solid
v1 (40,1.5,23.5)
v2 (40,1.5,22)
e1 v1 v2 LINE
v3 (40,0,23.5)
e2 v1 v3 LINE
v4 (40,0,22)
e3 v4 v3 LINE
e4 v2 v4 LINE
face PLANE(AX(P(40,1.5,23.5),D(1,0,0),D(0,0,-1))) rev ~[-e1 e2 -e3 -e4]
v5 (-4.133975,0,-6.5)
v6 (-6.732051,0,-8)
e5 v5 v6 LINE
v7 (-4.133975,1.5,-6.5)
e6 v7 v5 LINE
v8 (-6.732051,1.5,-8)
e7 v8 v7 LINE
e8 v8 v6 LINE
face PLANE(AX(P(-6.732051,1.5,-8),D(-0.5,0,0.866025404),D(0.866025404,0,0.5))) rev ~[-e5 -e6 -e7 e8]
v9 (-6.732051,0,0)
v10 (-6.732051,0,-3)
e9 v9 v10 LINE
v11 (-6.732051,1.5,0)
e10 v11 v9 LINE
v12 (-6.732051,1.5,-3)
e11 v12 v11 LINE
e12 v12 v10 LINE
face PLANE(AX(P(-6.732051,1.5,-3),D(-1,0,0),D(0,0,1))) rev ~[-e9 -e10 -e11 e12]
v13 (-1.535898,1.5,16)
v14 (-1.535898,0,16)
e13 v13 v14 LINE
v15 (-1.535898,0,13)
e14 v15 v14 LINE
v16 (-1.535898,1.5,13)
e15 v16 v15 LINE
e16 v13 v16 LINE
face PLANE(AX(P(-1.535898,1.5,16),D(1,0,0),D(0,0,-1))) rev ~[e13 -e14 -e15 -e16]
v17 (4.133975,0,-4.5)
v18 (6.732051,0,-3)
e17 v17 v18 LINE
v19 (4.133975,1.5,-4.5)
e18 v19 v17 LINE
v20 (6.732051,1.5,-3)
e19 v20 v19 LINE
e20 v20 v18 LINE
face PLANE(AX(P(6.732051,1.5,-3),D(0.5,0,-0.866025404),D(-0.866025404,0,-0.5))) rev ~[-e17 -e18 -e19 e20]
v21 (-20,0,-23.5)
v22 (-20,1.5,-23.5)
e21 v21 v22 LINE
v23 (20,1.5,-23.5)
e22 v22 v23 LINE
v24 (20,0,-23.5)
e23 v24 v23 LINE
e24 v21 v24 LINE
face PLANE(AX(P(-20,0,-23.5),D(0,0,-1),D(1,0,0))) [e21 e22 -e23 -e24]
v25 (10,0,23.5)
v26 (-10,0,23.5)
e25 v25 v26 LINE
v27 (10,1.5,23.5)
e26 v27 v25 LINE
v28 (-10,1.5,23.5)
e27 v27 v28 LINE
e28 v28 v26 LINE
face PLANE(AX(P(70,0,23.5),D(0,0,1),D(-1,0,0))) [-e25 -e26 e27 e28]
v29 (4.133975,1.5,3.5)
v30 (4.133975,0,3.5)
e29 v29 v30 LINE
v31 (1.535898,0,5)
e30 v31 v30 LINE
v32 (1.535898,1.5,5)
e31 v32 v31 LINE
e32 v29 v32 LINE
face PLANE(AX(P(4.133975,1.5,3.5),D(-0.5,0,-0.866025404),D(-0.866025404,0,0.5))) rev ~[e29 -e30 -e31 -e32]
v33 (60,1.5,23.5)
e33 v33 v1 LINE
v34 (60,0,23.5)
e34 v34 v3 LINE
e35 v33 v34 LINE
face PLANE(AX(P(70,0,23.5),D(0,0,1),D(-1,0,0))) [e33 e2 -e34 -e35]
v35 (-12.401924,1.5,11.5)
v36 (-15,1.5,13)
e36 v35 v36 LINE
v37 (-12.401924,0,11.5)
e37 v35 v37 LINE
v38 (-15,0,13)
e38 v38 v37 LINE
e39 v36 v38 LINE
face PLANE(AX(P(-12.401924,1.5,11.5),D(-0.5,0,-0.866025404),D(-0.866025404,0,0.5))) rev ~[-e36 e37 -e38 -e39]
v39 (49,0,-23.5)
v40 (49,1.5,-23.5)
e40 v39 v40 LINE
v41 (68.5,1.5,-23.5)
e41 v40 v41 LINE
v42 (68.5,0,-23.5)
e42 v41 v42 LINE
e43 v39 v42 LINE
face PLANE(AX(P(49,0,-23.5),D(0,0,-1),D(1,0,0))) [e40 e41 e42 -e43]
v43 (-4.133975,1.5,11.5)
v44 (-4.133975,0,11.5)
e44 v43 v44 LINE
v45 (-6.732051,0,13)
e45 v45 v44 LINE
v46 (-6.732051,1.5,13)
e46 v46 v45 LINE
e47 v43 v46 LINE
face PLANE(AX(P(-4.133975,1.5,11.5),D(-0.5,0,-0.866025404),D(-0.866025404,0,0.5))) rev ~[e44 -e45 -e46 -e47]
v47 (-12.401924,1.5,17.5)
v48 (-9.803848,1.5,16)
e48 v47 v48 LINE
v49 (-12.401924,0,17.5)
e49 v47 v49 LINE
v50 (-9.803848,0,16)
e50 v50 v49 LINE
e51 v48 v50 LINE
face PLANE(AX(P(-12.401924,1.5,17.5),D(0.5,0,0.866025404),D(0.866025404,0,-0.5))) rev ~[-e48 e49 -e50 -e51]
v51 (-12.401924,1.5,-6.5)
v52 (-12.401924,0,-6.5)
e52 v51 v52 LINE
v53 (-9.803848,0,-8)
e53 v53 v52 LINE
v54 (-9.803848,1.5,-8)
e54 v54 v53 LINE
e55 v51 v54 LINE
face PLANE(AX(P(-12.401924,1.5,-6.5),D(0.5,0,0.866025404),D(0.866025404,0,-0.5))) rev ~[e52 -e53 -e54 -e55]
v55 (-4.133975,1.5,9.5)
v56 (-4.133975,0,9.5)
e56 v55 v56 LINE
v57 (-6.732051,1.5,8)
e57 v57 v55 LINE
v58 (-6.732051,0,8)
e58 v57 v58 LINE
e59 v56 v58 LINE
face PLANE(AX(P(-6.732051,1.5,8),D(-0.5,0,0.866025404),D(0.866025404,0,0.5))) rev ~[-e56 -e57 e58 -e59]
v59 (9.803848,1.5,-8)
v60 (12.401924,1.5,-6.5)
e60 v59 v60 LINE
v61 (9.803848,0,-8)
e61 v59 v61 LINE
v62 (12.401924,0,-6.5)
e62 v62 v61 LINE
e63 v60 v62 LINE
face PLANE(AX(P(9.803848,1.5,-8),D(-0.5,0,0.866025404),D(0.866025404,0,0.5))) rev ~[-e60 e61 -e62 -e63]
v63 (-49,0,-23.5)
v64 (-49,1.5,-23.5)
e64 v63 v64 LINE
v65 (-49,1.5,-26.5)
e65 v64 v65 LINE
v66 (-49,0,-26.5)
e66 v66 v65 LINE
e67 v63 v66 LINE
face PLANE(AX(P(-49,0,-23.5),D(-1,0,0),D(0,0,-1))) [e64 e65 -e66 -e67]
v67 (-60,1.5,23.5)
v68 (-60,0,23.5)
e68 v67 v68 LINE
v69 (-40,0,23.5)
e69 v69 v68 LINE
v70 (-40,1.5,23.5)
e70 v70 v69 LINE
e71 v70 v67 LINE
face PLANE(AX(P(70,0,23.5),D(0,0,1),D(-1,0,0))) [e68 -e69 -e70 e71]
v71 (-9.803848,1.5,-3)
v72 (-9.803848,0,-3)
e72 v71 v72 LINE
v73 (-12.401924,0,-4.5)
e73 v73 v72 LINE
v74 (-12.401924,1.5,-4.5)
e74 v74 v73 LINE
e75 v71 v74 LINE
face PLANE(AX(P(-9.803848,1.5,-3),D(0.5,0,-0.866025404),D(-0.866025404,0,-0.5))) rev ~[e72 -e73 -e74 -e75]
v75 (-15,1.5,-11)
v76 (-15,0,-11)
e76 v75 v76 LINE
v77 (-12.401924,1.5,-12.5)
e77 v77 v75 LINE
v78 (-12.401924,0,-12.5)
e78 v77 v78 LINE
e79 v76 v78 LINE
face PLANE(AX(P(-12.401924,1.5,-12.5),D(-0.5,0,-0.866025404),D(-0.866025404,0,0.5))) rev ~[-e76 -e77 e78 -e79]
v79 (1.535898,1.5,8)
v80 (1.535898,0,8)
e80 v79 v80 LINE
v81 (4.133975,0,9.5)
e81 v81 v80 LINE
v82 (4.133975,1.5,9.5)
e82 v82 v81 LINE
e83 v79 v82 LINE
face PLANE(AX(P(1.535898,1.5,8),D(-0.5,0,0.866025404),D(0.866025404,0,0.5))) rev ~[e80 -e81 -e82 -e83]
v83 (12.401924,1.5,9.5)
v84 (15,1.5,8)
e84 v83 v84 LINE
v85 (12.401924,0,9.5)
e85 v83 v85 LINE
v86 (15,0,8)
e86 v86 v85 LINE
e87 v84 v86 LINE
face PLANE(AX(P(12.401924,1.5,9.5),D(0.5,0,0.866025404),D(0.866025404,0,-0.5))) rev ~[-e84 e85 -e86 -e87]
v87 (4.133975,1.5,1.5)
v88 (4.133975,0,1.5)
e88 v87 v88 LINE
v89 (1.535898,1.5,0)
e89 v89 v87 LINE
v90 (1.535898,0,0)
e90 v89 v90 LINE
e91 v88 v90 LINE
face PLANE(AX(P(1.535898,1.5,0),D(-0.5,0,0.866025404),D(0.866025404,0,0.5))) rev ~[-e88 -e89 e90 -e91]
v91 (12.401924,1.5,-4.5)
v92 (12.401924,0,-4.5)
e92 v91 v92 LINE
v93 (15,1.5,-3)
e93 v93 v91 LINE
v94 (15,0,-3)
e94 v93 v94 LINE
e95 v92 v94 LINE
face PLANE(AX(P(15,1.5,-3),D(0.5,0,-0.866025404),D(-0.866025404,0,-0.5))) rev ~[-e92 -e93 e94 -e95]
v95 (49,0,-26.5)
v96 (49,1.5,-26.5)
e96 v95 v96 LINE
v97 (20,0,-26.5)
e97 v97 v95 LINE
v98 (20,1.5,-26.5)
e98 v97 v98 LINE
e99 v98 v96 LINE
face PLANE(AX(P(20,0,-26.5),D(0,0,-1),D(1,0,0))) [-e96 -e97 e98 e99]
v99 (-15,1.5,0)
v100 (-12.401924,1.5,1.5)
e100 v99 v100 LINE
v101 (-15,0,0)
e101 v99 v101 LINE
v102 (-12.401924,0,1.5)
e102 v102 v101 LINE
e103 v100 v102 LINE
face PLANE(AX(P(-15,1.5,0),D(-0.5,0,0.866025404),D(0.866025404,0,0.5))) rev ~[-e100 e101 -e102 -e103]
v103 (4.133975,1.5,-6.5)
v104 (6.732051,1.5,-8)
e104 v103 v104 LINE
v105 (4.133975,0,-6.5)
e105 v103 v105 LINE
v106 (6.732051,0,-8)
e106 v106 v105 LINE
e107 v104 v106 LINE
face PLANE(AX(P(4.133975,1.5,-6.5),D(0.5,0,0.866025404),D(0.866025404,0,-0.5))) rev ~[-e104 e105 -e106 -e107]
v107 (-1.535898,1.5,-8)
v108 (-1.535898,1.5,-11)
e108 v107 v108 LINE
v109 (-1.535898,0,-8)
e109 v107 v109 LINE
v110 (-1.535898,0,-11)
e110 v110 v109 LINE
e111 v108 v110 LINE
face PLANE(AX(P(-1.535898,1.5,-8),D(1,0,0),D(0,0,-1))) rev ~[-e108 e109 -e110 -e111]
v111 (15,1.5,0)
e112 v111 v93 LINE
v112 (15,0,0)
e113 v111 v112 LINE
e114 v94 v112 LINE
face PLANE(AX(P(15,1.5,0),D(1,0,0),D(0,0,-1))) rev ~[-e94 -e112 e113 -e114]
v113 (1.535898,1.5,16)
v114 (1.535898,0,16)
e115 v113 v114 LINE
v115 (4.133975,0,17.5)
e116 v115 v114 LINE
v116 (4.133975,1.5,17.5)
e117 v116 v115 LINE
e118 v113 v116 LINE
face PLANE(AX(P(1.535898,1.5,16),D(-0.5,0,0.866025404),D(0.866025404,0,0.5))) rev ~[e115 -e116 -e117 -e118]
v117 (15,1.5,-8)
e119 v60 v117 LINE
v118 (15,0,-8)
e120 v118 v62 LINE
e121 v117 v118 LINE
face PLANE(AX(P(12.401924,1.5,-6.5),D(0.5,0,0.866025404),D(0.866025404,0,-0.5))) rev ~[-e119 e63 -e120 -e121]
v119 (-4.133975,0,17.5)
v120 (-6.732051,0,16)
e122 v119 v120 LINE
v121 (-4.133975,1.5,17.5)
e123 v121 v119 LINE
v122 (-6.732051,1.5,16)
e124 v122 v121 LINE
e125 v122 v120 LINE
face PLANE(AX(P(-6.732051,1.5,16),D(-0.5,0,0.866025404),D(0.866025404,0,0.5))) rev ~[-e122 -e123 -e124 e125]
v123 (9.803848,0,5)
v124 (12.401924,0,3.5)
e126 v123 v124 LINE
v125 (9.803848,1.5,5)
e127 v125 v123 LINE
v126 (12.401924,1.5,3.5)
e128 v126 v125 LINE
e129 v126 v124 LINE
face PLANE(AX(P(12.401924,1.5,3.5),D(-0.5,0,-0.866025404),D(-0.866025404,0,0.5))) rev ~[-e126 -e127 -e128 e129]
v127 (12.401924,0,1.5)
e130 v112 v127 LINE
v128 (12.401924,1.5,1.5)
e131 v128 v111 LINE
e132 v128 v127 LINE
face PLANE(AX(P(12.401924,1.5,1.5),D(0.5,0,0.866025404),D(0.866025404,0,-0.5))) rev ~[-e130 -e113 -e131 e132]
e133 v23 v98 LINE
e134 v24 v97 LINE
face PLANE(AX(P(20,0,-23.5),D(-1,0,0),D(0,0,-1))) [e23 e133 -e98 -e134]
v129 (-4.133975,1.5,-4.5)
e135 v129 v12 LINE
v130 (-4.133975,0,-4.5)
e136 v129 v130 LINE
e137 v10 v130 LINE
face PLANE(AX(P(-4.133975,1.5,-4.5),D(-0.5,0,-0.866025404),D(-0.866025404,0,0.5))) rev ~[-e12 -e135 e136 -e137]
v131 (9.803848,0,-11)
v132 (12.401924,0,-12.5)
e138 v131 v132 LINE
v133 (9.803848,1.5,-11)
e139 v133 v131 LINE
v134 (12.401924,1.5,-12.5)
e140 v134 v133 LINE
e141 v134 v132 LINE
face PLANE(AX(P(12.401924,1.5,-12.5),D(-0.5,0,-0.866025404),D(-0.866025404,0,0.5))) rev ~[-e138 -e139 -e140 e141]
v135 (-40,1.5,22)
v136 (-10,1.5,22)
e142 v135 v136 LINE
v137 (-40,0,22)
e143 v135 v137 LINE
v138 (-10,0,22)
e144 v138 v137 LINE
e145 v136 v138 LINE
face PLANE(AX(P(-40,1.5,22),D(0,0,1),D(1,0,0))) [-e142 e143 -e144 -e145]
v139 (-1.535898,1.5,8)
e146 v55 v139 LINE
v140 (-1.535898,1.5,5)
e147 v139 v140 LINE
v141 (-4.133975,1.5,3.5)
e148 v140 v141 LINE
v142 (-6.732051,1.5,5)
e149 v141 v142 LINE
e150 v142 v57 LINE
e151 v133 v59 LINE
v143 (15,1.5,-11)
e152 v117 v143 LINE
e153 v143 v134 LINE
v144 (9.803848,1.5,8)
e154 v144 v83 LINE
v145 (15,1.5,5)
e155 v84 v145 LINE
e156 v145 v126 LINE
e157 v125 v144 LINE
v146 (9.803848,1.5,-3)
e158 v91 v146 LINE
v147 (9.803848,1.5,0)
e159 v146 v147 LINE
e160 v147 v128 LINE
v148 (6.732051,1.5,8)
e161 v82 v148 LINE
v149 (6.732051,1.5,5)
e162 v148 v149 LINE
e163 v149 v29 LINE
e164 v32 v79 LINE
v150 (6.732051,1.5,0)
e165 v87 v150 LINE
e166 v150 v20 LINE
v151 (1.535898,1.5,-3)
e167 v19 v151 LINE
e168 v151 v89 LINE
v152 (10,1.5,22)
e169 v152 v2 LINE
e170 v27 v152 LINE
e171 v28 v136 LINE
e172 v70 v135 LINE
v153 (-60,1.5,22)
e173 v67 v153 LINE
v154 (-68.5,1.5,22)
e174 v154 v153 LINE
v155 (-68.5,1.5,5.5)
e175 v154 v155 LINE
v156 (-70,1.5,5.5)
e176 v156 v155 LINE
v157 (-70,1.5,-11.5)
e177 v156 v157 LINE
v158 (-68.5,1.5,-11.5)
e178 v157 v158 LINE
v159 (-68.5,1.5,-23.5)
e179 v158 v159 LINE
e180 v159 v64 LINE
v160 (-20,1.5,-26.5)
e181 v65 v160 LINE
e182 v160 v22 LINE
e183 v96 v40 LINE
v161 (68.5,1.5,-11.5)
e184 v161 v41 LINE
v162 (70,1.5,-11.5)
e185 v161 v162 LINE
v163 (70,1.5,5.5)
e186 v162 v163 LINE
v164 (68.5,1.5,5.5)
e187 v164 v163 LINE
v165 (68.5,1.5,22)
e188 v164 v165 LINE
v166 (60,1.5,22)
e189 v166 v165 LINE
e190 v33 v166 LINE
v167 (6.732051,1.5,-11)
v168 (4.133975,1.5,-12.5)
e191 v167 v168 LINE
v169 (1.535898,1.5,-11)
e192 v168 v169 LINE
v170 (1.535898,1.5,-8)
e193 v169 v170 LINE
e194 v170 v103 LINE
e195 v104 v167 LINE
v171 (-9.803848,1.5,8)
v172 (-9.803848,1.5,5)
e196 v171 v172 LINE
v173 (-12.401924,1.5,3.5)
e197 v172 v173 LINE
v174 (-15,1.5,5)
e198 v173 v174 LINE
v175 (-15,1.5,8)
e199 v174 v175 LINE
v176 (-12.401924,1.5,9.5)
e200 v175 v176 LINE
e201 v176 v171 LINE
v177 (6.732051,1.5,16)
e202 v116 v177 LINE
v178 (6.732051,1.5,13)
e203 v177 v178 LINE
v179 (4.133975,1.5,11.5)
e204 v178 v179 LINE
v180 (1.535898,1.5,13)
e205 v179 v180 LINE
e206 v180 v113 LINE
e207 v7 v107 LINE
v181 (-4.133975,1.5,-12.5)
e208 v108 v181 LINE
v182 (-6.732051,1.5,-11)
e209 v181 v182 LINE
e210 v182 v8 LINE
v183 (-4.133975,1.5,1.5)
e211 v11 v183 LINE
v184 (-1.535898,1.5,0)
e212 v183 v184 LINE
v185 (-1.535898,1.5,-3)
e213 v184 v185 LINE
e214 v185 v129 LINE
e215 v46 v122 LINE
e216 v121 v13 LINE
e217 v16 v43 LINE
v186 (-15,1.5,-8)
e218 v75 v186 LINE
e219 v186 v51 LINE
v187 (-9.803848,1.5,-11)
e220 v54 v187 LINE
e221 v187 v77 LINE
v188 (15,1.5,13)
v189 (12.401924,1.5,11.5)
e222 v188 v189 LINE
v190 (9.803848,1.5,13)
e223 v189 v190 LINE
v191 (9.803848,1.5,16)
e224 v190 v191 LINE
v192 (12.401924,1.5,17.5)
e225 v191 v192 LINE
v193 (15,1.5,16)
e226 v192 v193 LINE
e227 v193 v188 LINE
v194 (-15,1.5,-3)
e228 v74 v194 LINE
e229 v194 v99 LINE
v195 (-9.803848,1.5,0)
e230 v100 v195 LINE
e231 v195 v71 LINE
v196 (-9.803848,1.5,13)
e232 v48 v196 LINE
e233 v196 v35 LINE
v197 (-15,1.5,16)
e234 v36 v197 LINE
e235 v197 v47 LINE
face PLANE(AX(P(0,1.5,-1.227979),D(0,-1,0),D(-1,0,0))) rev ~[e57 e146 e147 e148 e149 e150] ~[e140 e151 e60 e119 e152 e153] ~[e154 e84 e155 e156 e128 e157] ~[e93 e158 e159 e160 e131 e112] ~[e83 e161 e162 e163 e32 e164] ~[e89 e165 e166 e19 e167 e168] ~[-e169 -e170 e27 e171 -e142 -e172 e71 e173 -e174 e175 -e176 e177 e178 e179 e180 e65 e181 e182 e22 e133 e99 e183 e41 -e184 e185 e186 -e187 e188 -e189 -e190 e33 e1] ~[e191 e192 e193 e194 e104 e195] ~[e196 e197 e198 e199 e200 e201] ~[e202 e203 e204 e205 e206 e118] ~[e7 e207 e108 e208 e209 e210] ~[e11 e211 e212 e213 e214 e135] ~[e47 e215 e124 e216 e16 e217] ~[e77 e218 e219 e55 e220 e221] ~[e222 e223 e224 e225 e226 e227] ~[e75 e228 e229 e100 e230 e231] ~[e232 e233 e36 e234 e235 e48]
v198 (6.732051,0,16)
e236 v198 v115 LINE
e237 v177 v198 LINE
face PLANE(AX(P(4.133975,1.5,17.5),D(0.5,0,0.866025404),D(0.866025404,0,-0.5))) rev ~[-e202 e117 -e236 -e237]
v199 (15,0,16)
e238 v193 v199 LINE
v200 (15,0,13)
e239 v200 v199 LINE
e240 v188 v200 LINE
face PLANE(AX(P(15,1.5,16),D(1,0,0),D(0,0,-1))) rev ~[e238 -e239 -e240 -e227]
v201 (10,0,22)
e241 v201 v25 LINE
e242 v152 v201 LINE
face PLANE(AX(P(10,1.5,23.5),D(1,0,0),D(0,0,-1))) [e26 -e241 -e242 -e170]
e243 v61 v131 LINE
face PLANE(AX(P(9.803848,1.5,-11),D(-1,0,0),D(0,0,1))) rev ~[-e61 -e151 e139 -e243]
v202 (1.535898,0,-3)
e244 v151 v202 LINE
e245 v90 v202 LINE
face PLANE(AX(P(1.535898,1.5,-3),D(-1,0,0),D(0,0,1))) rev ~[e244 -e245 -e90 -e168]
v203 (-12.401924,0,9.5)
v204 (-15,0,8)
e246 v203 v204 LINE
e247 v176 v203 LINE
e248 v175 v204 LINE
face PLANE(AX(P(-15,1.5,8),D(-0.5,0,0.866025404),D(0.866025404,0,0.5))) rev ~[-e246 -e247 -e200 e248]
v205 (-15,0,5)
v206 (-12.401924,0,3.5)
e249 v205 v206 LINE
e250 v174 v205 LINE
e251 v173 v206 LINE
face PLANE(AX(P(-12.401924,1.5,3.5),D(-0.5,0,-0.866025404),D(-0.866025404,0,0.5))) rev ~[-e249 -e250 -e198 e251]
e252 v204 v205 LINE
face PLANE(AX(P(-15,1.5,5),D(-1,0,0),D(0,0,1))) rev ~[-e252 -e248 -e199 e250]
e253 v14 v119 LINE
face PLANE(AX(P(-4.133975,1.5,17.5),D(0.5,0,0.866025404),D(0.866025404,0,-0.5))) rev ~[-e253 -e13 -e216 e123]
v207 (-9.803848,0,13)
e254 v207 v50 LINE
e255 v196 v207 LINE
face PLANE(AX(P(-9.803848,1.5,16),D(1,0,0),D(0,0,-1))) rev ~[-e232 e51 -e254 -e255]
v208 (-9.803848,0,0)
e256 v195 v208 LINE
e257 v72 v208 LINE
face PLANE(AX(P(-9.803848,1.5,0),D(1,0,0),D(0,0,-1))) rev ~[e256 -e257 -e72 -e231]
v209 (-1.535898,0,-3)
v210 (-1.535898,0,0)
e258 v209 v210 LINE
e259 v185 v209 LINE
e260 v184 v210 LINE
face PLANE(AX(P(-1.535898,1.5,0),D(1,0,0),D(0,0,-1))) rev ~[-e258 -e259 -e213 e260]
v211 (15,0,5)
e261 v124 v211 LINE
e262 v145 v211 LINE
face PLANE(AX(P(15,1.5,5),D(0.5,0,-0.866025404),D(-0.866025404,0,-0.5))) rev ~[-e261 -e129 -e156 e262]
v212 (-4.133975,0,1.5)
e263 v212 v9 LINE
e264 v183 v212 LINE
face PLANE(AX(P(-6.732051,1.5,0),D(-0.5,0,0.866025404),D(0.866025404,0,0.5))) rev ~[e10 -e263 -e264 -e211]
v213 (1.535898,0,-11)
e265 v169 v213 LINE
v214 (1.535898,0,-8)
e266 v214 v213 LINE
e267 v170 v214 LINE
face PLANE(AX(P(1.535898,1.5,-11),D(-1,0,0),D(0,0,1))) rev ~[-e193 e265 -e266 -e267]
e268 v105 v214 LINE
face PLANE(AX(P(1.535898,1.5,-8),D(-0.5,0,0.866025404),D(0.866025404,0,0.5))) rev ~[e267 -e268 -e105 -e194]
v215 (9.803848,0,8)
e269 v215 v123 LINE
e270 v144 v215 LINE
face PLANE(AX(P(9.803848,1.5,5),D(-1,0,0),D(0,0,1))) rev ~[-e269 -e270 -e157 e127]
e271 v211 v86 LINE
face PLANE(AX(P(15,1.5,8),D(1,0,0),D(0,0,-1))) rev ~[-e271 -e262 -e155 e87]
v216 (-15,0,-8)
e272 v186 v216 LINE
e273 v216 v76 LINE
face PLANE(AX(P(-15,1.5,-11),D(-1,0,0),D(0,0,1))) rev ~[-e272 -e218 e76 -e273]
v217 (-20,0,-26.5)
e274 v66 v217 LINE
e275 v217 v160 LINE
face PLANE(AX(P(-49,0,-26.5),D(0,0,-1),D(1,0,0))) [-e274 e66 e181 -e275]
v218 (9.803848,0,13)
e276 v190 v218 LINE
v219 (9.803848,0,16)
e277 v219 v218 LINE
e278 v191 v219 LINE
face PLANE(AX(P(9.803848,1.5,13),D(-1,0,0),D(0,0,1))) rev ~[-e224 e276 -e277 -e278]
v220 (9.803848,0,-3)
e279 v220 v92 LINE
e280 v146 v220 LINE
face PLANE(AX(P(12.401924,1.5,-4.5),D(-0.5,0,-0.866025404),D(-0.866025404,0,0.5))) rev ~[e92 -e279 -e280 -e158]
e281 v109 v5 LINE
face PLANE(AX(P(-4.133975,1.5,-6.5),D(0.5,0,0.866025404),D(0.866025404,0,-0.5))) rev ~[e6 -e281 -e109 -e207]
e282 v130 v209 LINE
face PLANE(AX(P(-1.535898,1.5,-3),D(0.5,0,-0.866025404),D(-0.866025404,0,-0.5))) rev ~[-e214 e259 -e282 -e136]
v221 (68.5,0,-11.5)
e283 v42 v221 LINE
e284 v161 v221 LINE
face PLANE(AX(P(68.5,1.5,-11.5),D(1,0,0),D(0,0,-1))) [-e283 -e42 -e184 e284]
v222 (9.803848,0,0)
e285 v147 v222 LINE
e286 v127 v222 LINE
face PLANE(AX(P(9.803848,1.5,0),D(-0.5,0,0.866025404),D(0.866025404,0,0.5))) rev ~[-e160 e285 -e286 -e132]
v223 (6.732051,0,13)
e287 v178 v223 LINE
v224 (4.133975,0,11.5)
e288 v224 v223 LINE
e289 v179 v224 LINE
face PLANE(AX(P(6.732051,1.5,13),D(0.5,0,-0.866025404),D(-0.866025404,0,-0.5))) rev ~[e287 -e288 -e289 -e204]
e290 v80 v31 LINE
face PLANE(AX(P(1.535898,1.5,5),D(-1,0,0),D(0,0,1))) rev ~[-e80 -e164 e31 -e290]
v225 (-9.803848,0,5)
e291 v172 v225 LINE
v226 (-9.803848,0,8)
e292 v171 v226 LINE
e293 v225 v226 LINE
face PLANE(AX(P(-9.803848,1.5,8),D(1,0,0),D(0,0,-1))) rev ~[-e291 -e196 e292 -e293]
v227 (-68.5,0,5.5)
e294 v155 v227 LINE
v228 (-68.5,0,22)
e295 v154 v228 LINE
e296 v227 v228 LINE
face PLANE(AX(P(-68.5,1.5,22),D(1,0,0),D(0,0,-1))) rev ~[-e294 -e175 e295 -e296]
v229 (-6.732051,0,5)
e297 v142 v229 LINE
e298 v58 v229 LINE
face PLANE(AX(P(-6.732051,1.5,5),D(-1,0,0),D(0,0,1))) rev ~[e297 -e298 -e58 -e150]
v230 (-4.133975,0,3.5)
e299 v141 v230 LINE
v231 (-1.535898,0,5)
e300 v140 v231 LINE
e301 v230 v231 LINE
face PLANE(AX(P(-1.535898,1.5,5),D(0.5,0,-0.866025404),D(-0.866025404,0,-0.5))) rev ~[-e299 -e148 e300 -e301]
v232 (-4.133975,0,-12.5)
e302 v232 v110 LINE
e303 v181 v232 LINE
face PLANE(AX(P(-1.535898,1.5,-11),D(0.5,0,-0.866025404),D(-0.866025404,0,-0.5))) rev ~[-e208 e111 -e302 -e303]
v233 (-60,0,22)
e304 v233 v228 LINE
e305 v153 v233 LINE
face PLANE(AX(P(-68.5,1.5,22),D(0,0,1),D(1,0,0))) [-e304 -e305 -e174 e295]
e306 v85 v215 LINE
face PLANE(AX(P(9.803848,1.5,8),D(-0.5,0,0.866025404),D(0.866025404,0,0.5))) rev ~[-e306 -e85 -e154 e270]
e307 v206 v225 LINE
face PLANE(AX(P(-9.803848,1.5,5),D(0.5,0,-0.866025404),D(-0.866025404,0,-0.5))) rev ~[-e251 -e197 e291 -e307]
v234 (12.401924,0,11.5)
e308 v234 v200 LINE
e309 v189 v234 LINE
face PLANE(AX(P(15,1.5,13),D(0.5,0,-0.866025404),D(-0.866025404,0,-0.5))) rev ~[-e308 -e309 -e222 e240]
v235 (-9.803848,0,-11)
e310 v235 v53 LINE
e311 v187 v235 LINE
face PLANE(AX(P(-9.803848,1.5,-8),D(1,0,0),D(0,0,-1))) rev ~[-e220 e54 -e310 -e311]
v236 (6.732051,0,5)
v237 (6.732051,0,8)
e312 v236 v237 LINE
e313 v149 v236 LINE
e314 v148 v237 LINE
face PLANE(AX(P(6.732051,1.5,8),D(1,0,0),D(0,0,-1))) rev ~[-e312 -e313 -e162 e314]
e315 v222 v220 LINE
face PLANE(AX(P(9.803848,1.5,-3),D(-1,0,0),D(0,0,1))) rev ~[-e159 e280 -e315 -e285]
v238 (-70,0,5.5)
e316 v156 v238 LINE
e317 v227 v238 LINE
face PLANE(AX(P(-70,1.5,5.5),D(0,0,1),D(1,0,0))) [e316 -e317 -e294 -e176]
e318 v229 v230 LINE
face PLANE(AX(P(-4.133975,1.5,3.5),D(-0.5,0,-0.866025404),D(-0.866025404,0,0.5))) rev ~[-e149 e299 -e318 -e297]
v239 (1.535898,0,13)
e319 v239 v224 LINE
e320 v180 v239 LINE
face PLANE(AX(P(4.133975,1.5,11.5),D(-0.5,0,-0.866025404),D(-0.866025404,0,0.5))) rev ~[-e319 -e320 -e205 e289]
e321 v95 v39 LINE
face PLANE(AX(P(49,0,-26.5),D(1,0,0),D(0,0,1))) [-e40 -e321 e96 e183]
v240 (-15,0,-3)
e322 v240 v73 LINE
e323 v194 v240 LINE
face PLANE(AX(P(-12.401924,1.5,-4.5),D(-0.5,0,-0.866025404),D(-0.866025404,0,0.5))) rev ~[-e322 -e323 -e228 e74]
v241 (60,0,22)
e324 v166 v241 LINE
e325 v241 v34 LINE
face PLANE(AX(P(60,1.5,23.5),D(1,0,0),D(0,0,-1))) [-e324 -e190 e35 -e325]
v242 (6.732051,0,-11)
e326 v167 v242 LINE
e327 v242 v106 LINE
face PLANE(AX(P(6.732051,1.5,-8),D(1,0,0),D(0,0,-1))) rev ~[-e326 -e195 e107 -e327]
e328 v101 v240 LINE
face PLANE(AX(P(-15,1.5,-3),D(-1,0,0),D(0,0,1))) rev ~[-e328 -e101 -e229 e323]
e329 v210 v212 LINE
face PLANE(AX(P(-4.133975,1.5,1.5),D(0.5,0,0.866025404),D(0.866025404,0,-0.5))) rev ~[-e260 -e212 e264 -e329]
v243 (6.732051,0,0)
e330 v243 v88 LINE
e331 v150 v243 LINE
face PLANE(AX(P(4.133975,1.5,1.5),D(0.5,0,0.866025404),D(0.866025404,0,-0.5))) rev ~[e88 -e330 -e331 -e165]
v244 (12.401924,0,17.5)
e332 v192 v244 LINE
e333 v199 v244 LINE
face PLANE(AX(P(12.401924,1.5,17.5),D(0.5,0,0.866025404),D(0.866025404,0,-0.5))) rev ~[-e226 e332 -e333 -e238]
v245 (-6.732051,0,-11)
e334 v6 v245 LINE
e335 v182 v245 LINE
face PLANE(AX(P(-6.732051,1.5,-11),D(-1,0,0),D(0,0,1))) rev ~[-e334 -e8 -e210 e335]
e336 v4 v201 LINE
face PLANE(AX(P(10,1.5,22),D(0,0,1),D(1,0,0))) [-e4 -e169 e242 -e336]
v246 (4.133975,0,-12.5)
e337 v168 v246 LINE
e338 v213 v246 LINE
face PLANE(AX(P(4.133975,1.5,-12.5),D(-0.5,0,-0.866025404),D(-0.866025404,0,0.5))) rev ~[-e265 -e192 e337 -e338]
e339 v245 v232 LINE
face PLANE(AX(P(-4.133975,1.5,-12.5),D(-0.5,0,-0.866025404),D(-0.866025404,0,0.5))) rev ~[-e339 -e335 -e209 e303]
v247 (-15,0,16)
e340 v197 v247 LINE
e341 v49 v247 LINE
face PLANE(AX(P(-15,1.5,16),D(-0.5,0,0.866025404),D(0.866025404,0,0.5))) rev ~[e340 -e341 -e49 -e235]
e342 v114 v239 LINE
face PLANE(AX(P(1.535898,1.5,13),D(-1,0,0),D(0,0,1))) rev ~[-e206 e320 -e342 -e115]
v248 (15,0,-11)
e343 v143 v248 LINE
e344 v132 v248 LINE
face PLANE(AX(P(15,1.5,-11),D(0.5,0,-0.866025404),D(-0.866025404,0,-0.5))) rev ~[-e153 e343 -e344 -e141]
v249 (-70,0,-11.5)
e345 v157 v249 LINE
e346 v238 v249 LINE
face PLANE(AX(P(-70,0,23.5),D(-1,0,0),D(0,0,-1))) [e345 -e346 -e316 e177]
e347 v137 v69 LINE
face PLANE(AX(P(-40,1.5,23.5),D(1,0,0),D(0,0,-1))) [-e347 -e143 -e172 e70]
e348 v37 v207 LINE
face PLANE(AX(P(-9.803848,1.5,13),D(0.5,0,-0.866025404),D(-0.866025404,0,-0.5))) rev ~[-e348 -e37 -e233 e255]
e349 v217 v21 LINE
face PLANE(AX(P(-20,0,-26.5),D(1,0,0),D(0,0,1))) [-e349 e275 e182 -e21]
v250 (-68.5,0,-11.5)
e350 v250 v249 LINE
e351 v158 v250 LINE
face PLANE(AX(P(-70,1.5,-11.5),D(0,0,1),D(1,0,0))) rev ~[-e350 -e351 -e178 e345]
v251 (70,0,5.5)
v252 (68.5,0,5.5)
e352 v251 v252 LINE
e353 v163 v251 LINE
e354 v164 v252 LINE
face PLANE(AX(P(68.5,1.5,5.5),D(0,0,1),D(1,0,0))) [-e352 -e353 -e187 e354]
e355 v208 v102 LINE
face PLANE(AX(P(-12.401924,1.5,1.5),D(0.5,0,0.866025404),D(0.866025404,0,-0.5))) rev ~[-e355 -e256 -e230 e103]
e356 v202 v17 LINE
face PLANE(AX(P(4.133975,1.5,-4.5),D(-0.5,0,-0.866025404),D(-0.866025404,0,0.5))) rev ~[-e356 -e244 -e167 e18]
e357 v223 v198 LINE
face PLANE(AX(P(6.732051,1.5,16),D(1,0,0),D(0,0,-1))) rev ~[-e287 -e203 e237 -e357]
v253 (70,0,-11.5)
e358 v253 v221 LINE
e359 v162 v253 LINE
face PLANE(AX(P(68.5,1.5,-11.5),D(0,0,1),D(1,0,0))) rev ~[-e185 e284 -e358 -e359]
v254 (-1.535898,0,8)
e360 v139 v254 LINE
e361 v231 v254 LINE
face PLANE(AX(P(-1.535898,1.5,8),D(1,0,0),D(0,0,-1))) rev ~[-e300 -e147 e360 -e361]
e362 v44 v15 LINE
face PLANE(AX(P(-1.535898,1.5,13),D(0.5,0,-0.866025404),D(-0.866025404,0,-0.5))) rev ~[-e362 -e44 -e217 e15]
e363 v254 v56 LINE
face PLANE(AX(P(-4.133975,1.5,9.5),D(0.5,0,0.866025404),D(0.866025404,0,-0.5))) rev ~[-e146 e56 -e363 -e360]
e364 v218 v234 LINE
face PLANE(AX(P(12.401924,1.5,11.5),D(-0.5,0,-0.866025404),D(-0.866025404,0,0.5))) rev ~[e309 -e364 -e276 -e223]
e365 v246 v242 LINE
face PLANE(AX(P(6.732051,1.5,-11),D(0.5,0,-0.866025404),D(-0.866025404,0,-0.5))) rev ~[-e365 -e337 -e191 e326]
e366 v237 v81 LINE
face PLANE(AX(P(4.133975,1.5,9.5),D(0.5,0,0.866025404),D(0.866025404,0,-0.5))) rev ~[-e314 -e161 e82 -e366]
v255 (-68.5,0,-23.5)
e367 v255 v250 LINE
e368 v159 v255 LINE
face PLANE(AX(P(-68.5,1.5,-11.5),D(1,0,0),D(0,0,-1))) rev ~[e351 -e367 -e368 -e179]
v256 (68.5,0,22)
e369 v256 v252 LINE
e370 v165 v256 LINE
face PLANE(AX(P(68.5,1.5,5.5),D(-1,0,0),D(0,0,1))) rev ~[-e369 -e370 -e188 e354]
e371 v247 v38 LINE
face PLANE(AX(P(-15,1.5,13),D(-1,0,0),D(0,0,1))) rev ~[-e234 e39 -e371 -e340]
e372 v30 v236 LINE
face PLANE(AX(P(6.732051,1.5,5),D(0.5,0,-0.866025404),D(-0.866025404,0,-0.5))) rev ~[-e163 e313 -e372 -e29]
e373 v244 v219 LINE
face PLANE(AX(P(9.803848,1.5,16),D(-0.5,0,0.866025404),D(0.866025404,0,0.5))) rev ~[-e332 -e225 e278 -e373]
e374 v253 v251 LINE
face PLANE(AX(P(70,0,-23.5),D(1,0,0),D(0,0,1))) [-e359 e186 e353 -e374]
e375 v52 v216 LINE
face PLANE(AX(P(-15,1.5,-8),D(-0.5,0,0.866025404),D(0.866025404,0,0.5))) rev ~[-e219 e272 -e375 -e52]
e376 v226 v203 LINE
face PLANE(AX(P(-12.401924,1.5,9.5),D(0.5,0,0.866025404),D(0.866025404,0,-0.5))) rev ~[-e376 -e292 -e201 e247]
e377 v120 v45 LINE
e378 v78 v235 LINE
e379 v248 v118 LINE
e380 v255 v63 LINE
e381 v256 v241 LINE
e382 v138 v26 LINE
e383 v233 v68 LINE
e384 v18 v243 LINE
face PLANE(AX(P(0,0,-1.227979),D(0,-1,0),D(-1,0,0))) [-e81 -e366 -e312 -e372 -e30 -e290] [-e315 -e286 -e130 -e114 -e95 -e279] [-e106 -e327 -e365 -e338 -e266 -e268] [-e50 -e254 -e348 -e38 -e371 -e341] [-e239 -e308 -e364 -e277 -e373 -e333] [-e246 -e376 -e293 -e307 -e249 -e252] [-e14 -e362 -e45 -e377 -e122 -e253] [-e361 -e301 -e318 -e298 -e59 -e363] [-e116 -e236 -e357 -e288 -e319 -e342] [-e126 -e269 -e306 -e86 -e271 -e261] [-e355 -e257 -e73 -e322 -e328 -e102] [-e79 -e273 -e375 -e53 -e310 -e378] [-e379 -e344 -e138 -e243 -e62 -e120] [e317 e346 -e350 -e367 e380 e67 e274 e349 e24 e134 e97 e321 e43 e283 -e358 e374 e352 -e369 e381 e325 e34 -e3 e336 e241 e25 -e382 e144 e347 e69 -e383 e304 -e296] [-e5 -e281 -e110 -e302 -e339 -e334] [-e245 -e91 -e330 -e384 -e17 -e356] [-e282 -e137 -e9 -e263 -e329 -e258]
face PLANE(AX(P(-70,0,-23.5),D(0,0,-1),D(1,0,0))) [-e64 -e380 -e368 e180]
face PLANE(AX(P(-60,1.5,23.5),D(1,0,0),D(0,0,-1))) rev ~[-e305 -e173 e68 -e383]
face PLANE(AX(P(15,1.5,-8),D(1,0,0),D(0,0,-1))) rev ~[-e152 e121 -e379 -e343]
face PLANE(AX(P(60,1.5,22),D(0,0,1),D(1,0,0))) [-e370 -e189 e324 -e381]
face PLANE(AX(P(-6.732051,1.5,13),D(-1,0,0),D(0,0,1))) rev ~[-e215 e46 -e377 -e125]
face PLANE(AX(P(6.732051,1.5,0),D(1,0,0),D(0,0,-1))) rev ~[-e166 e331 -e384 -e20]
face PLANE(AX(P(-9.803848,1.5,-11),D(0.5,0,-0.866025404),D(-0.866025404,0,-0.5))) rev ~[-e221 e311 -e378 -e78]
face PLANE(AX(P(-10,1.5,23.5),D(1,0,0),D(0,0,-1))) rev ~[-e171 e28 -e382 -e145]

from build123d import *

# Parameters (mm, degrees)
BOSS_EXTRUDE1_DEPTH = 1.5
CUT_EXTRUDE1_DEPTH  = 75.863208587
SKETCH6_W           = 1.5
SKETCH6_H           = 12
SKETCH6_H_2         = 16.5
SKETCH6_H_3         = 1.5
SKETCH6_W_2         = 8.5
SKETCH6_W_3         = 30
CUT_EXTRUDE2_DEPTH  = 75.863208587


with BuildPart() as part:
    # Sketch2 → Boss-Extrude1 (new body)
    with BuildSketch(Plane(origin=(0, 0, 0), x_dir=(1, 0, 0), z_dir=(0, 1, 0))):
        Polygon((-70, 23.5), (-49, 23.5), (-49, 26.5), (-20, 26.5), (-20, 23.5), (20, 23.5), (20, 26.5), (49, 26.5), (49, 23.5), (70, 23.5), (70, -23.5), (-70, -23.5), align=None)
    extrude(amount=BOSS_EXTRUDE1_DEPTH)

    # Sketch5 → Cut-Extrude1 (cut, through all)
    with BuildSketch(Plane(origin=(0, 1.5, 0), x_dir=(1, 0, 0), z_dir=(0, 1, 0))):
        Polygon((-4.133974596, -11.5), (-6.732050808, -13), (-6.732050808, -16), (-4.133974596, -17.5), (-1.535898385, -16), (-1.535898385, -13), align=None)
        Polygon((-12.401923789, -11.5), (-15, -13), (-15, -16), (-12.401923789, -17.5), (-9.803847577, -16), (-9.803847577, -13), align=None)
        Polygon((4.133974596, -11.5), (1.535898385, -13), (1.535898385, -16), (4.133974596, -17.5), (6.732050808, -16), (6.732050808, -13), align=None)
        Polygon((12.401923789, -11.5), (9.803847577, -13), (9.803847577, -16), (12.401923789, -17.5), (15, -16), (15, -13), align=None)
        Polygon((-4.133974596, -3.5), (-6.732050808, -5), (-6.732050808, -8), (-4.133974596, -9.5), (-1.535898385, -8), (-1.535898385, -5), align=None)
        Polygon((4.133974596, -3.5), (1.535898385, -5), (1.535898385, -8), (4.133974596, -9.5), (6.732050808, -8), (6.732050808, -5), align=None)
        Polygon((12.401923789, -3.5), (9.803847577, -5), (9.803847577, -8), (12.401923789, -9.5), (15, -8), (15, -5), align=None)
        Polygon((-4.133974596, 4.5), (-6.732050808, 3), (-6.732050808, 0), (-4.133974596, -1.5), (-1.535898385, 0), (-1.535898385, 3), align=None)
        Polygon((4.133974596, 4.5), (1.535898385, 3), (1.535898385, 0), (4.133974596, -1.5), (6.732050808, 0), (6.732050808, 3), align=None)
        Polygon((12.401923789, 4.5), (9.803847577, 3), (9.803847577, 0), (12.401923789, -1.5), (15, 0), (15, 3), align=None)
        Polygon((-4.133974596, 12.5), (-6.732050808, 11), (-6.732050808, 8), (-4.133974596, 6.5), (-1.535898385, 8), (-1.535898385, 11), align=None)
        Polygon((4.133974596, 12.5), (1.535898385, 11), (1.535898385, 8), (4.133974596, 6.5), (6.732050808, 8), (6.732050808, 11), align=None)
        Polygon((12.401923789, 12.5), (9.803847577, 11), (9.803847577, 8), (12.401923789, 6.5), (15, 8), (15, 11), align=None)
        Polygon((-12.401923789, -3.5), (-15, -5), (-15, -8), (-12.401923789, -9.5), (-9.803847577, -8), (-9.803847577, -5), align=None)
        Polygon((-12.401923789, 4.5), (-15, 3), (-15, 0), (-12.401923789, -1.5), (-9.803847577, 0), (-9.803847577, 3), align=None)
        Polygon((-12.401923789, 12.5), (-15, 11), (-15, 8), (-12.401923789, 6.5), (-9.803847577, 8), (-9.803847577, 11), align=None)
    extrude(amount=-CUT_EXTRUDE1_DEPTH, mode=Mode.SUBTRACT)

    # Sketch6 → Cut-Extrude2 (cut, through all)
    with BuildSketch(Plane(origin=(0, 1.5, 0), x_dir=(1, 0, 0), z_dir=(0, 1, 0))):
        with Locations((69.25, 17.5)):
            Rectangle(SKETCH6_W, SKETCH6_H)
        with Locations((69.25, -13.75)):
            Rectangle(SKETCH6_W, SKETCH6_H_2)
        with Locations((69.25, -22.75)):
            Rectangle(SKETCH6_W, SKETCH6_H_3)
        with Locations((64.25, -22.75)):
            Rectangle(SKETCH6_W_2, SKETCH6_H_3)
        with Locations((25, -22.75)):
            Rectangle(SKETCH6_W_3, SKETCH6_H_3)
        with Locations((-25, -22.75)):
            Rectangle(SKETCH6_W_3, SKETCH6_H_3)
        with Locations((-69.25, 17.5)):
            Rectangle(SKETCH6_W, SKETCH6_H)
        with Locations((-69.25, -13.75)):
            Rectangle(SKETCH6_W, SKETCH6_H_2)
        with Locations((-69.25, -22.75)):
            Rectangle(SKETCH6_W, SKETCH6_H_3)
        with Locations((-64.25, -22.75)):
            Rectangle(SKETCH6_W_2, SKETCH6_H_3)
    extrude(amount=-CUT_EXTRUDE2_DEPTH, mode=Mode.SUBTRACT)


solid = part.part
